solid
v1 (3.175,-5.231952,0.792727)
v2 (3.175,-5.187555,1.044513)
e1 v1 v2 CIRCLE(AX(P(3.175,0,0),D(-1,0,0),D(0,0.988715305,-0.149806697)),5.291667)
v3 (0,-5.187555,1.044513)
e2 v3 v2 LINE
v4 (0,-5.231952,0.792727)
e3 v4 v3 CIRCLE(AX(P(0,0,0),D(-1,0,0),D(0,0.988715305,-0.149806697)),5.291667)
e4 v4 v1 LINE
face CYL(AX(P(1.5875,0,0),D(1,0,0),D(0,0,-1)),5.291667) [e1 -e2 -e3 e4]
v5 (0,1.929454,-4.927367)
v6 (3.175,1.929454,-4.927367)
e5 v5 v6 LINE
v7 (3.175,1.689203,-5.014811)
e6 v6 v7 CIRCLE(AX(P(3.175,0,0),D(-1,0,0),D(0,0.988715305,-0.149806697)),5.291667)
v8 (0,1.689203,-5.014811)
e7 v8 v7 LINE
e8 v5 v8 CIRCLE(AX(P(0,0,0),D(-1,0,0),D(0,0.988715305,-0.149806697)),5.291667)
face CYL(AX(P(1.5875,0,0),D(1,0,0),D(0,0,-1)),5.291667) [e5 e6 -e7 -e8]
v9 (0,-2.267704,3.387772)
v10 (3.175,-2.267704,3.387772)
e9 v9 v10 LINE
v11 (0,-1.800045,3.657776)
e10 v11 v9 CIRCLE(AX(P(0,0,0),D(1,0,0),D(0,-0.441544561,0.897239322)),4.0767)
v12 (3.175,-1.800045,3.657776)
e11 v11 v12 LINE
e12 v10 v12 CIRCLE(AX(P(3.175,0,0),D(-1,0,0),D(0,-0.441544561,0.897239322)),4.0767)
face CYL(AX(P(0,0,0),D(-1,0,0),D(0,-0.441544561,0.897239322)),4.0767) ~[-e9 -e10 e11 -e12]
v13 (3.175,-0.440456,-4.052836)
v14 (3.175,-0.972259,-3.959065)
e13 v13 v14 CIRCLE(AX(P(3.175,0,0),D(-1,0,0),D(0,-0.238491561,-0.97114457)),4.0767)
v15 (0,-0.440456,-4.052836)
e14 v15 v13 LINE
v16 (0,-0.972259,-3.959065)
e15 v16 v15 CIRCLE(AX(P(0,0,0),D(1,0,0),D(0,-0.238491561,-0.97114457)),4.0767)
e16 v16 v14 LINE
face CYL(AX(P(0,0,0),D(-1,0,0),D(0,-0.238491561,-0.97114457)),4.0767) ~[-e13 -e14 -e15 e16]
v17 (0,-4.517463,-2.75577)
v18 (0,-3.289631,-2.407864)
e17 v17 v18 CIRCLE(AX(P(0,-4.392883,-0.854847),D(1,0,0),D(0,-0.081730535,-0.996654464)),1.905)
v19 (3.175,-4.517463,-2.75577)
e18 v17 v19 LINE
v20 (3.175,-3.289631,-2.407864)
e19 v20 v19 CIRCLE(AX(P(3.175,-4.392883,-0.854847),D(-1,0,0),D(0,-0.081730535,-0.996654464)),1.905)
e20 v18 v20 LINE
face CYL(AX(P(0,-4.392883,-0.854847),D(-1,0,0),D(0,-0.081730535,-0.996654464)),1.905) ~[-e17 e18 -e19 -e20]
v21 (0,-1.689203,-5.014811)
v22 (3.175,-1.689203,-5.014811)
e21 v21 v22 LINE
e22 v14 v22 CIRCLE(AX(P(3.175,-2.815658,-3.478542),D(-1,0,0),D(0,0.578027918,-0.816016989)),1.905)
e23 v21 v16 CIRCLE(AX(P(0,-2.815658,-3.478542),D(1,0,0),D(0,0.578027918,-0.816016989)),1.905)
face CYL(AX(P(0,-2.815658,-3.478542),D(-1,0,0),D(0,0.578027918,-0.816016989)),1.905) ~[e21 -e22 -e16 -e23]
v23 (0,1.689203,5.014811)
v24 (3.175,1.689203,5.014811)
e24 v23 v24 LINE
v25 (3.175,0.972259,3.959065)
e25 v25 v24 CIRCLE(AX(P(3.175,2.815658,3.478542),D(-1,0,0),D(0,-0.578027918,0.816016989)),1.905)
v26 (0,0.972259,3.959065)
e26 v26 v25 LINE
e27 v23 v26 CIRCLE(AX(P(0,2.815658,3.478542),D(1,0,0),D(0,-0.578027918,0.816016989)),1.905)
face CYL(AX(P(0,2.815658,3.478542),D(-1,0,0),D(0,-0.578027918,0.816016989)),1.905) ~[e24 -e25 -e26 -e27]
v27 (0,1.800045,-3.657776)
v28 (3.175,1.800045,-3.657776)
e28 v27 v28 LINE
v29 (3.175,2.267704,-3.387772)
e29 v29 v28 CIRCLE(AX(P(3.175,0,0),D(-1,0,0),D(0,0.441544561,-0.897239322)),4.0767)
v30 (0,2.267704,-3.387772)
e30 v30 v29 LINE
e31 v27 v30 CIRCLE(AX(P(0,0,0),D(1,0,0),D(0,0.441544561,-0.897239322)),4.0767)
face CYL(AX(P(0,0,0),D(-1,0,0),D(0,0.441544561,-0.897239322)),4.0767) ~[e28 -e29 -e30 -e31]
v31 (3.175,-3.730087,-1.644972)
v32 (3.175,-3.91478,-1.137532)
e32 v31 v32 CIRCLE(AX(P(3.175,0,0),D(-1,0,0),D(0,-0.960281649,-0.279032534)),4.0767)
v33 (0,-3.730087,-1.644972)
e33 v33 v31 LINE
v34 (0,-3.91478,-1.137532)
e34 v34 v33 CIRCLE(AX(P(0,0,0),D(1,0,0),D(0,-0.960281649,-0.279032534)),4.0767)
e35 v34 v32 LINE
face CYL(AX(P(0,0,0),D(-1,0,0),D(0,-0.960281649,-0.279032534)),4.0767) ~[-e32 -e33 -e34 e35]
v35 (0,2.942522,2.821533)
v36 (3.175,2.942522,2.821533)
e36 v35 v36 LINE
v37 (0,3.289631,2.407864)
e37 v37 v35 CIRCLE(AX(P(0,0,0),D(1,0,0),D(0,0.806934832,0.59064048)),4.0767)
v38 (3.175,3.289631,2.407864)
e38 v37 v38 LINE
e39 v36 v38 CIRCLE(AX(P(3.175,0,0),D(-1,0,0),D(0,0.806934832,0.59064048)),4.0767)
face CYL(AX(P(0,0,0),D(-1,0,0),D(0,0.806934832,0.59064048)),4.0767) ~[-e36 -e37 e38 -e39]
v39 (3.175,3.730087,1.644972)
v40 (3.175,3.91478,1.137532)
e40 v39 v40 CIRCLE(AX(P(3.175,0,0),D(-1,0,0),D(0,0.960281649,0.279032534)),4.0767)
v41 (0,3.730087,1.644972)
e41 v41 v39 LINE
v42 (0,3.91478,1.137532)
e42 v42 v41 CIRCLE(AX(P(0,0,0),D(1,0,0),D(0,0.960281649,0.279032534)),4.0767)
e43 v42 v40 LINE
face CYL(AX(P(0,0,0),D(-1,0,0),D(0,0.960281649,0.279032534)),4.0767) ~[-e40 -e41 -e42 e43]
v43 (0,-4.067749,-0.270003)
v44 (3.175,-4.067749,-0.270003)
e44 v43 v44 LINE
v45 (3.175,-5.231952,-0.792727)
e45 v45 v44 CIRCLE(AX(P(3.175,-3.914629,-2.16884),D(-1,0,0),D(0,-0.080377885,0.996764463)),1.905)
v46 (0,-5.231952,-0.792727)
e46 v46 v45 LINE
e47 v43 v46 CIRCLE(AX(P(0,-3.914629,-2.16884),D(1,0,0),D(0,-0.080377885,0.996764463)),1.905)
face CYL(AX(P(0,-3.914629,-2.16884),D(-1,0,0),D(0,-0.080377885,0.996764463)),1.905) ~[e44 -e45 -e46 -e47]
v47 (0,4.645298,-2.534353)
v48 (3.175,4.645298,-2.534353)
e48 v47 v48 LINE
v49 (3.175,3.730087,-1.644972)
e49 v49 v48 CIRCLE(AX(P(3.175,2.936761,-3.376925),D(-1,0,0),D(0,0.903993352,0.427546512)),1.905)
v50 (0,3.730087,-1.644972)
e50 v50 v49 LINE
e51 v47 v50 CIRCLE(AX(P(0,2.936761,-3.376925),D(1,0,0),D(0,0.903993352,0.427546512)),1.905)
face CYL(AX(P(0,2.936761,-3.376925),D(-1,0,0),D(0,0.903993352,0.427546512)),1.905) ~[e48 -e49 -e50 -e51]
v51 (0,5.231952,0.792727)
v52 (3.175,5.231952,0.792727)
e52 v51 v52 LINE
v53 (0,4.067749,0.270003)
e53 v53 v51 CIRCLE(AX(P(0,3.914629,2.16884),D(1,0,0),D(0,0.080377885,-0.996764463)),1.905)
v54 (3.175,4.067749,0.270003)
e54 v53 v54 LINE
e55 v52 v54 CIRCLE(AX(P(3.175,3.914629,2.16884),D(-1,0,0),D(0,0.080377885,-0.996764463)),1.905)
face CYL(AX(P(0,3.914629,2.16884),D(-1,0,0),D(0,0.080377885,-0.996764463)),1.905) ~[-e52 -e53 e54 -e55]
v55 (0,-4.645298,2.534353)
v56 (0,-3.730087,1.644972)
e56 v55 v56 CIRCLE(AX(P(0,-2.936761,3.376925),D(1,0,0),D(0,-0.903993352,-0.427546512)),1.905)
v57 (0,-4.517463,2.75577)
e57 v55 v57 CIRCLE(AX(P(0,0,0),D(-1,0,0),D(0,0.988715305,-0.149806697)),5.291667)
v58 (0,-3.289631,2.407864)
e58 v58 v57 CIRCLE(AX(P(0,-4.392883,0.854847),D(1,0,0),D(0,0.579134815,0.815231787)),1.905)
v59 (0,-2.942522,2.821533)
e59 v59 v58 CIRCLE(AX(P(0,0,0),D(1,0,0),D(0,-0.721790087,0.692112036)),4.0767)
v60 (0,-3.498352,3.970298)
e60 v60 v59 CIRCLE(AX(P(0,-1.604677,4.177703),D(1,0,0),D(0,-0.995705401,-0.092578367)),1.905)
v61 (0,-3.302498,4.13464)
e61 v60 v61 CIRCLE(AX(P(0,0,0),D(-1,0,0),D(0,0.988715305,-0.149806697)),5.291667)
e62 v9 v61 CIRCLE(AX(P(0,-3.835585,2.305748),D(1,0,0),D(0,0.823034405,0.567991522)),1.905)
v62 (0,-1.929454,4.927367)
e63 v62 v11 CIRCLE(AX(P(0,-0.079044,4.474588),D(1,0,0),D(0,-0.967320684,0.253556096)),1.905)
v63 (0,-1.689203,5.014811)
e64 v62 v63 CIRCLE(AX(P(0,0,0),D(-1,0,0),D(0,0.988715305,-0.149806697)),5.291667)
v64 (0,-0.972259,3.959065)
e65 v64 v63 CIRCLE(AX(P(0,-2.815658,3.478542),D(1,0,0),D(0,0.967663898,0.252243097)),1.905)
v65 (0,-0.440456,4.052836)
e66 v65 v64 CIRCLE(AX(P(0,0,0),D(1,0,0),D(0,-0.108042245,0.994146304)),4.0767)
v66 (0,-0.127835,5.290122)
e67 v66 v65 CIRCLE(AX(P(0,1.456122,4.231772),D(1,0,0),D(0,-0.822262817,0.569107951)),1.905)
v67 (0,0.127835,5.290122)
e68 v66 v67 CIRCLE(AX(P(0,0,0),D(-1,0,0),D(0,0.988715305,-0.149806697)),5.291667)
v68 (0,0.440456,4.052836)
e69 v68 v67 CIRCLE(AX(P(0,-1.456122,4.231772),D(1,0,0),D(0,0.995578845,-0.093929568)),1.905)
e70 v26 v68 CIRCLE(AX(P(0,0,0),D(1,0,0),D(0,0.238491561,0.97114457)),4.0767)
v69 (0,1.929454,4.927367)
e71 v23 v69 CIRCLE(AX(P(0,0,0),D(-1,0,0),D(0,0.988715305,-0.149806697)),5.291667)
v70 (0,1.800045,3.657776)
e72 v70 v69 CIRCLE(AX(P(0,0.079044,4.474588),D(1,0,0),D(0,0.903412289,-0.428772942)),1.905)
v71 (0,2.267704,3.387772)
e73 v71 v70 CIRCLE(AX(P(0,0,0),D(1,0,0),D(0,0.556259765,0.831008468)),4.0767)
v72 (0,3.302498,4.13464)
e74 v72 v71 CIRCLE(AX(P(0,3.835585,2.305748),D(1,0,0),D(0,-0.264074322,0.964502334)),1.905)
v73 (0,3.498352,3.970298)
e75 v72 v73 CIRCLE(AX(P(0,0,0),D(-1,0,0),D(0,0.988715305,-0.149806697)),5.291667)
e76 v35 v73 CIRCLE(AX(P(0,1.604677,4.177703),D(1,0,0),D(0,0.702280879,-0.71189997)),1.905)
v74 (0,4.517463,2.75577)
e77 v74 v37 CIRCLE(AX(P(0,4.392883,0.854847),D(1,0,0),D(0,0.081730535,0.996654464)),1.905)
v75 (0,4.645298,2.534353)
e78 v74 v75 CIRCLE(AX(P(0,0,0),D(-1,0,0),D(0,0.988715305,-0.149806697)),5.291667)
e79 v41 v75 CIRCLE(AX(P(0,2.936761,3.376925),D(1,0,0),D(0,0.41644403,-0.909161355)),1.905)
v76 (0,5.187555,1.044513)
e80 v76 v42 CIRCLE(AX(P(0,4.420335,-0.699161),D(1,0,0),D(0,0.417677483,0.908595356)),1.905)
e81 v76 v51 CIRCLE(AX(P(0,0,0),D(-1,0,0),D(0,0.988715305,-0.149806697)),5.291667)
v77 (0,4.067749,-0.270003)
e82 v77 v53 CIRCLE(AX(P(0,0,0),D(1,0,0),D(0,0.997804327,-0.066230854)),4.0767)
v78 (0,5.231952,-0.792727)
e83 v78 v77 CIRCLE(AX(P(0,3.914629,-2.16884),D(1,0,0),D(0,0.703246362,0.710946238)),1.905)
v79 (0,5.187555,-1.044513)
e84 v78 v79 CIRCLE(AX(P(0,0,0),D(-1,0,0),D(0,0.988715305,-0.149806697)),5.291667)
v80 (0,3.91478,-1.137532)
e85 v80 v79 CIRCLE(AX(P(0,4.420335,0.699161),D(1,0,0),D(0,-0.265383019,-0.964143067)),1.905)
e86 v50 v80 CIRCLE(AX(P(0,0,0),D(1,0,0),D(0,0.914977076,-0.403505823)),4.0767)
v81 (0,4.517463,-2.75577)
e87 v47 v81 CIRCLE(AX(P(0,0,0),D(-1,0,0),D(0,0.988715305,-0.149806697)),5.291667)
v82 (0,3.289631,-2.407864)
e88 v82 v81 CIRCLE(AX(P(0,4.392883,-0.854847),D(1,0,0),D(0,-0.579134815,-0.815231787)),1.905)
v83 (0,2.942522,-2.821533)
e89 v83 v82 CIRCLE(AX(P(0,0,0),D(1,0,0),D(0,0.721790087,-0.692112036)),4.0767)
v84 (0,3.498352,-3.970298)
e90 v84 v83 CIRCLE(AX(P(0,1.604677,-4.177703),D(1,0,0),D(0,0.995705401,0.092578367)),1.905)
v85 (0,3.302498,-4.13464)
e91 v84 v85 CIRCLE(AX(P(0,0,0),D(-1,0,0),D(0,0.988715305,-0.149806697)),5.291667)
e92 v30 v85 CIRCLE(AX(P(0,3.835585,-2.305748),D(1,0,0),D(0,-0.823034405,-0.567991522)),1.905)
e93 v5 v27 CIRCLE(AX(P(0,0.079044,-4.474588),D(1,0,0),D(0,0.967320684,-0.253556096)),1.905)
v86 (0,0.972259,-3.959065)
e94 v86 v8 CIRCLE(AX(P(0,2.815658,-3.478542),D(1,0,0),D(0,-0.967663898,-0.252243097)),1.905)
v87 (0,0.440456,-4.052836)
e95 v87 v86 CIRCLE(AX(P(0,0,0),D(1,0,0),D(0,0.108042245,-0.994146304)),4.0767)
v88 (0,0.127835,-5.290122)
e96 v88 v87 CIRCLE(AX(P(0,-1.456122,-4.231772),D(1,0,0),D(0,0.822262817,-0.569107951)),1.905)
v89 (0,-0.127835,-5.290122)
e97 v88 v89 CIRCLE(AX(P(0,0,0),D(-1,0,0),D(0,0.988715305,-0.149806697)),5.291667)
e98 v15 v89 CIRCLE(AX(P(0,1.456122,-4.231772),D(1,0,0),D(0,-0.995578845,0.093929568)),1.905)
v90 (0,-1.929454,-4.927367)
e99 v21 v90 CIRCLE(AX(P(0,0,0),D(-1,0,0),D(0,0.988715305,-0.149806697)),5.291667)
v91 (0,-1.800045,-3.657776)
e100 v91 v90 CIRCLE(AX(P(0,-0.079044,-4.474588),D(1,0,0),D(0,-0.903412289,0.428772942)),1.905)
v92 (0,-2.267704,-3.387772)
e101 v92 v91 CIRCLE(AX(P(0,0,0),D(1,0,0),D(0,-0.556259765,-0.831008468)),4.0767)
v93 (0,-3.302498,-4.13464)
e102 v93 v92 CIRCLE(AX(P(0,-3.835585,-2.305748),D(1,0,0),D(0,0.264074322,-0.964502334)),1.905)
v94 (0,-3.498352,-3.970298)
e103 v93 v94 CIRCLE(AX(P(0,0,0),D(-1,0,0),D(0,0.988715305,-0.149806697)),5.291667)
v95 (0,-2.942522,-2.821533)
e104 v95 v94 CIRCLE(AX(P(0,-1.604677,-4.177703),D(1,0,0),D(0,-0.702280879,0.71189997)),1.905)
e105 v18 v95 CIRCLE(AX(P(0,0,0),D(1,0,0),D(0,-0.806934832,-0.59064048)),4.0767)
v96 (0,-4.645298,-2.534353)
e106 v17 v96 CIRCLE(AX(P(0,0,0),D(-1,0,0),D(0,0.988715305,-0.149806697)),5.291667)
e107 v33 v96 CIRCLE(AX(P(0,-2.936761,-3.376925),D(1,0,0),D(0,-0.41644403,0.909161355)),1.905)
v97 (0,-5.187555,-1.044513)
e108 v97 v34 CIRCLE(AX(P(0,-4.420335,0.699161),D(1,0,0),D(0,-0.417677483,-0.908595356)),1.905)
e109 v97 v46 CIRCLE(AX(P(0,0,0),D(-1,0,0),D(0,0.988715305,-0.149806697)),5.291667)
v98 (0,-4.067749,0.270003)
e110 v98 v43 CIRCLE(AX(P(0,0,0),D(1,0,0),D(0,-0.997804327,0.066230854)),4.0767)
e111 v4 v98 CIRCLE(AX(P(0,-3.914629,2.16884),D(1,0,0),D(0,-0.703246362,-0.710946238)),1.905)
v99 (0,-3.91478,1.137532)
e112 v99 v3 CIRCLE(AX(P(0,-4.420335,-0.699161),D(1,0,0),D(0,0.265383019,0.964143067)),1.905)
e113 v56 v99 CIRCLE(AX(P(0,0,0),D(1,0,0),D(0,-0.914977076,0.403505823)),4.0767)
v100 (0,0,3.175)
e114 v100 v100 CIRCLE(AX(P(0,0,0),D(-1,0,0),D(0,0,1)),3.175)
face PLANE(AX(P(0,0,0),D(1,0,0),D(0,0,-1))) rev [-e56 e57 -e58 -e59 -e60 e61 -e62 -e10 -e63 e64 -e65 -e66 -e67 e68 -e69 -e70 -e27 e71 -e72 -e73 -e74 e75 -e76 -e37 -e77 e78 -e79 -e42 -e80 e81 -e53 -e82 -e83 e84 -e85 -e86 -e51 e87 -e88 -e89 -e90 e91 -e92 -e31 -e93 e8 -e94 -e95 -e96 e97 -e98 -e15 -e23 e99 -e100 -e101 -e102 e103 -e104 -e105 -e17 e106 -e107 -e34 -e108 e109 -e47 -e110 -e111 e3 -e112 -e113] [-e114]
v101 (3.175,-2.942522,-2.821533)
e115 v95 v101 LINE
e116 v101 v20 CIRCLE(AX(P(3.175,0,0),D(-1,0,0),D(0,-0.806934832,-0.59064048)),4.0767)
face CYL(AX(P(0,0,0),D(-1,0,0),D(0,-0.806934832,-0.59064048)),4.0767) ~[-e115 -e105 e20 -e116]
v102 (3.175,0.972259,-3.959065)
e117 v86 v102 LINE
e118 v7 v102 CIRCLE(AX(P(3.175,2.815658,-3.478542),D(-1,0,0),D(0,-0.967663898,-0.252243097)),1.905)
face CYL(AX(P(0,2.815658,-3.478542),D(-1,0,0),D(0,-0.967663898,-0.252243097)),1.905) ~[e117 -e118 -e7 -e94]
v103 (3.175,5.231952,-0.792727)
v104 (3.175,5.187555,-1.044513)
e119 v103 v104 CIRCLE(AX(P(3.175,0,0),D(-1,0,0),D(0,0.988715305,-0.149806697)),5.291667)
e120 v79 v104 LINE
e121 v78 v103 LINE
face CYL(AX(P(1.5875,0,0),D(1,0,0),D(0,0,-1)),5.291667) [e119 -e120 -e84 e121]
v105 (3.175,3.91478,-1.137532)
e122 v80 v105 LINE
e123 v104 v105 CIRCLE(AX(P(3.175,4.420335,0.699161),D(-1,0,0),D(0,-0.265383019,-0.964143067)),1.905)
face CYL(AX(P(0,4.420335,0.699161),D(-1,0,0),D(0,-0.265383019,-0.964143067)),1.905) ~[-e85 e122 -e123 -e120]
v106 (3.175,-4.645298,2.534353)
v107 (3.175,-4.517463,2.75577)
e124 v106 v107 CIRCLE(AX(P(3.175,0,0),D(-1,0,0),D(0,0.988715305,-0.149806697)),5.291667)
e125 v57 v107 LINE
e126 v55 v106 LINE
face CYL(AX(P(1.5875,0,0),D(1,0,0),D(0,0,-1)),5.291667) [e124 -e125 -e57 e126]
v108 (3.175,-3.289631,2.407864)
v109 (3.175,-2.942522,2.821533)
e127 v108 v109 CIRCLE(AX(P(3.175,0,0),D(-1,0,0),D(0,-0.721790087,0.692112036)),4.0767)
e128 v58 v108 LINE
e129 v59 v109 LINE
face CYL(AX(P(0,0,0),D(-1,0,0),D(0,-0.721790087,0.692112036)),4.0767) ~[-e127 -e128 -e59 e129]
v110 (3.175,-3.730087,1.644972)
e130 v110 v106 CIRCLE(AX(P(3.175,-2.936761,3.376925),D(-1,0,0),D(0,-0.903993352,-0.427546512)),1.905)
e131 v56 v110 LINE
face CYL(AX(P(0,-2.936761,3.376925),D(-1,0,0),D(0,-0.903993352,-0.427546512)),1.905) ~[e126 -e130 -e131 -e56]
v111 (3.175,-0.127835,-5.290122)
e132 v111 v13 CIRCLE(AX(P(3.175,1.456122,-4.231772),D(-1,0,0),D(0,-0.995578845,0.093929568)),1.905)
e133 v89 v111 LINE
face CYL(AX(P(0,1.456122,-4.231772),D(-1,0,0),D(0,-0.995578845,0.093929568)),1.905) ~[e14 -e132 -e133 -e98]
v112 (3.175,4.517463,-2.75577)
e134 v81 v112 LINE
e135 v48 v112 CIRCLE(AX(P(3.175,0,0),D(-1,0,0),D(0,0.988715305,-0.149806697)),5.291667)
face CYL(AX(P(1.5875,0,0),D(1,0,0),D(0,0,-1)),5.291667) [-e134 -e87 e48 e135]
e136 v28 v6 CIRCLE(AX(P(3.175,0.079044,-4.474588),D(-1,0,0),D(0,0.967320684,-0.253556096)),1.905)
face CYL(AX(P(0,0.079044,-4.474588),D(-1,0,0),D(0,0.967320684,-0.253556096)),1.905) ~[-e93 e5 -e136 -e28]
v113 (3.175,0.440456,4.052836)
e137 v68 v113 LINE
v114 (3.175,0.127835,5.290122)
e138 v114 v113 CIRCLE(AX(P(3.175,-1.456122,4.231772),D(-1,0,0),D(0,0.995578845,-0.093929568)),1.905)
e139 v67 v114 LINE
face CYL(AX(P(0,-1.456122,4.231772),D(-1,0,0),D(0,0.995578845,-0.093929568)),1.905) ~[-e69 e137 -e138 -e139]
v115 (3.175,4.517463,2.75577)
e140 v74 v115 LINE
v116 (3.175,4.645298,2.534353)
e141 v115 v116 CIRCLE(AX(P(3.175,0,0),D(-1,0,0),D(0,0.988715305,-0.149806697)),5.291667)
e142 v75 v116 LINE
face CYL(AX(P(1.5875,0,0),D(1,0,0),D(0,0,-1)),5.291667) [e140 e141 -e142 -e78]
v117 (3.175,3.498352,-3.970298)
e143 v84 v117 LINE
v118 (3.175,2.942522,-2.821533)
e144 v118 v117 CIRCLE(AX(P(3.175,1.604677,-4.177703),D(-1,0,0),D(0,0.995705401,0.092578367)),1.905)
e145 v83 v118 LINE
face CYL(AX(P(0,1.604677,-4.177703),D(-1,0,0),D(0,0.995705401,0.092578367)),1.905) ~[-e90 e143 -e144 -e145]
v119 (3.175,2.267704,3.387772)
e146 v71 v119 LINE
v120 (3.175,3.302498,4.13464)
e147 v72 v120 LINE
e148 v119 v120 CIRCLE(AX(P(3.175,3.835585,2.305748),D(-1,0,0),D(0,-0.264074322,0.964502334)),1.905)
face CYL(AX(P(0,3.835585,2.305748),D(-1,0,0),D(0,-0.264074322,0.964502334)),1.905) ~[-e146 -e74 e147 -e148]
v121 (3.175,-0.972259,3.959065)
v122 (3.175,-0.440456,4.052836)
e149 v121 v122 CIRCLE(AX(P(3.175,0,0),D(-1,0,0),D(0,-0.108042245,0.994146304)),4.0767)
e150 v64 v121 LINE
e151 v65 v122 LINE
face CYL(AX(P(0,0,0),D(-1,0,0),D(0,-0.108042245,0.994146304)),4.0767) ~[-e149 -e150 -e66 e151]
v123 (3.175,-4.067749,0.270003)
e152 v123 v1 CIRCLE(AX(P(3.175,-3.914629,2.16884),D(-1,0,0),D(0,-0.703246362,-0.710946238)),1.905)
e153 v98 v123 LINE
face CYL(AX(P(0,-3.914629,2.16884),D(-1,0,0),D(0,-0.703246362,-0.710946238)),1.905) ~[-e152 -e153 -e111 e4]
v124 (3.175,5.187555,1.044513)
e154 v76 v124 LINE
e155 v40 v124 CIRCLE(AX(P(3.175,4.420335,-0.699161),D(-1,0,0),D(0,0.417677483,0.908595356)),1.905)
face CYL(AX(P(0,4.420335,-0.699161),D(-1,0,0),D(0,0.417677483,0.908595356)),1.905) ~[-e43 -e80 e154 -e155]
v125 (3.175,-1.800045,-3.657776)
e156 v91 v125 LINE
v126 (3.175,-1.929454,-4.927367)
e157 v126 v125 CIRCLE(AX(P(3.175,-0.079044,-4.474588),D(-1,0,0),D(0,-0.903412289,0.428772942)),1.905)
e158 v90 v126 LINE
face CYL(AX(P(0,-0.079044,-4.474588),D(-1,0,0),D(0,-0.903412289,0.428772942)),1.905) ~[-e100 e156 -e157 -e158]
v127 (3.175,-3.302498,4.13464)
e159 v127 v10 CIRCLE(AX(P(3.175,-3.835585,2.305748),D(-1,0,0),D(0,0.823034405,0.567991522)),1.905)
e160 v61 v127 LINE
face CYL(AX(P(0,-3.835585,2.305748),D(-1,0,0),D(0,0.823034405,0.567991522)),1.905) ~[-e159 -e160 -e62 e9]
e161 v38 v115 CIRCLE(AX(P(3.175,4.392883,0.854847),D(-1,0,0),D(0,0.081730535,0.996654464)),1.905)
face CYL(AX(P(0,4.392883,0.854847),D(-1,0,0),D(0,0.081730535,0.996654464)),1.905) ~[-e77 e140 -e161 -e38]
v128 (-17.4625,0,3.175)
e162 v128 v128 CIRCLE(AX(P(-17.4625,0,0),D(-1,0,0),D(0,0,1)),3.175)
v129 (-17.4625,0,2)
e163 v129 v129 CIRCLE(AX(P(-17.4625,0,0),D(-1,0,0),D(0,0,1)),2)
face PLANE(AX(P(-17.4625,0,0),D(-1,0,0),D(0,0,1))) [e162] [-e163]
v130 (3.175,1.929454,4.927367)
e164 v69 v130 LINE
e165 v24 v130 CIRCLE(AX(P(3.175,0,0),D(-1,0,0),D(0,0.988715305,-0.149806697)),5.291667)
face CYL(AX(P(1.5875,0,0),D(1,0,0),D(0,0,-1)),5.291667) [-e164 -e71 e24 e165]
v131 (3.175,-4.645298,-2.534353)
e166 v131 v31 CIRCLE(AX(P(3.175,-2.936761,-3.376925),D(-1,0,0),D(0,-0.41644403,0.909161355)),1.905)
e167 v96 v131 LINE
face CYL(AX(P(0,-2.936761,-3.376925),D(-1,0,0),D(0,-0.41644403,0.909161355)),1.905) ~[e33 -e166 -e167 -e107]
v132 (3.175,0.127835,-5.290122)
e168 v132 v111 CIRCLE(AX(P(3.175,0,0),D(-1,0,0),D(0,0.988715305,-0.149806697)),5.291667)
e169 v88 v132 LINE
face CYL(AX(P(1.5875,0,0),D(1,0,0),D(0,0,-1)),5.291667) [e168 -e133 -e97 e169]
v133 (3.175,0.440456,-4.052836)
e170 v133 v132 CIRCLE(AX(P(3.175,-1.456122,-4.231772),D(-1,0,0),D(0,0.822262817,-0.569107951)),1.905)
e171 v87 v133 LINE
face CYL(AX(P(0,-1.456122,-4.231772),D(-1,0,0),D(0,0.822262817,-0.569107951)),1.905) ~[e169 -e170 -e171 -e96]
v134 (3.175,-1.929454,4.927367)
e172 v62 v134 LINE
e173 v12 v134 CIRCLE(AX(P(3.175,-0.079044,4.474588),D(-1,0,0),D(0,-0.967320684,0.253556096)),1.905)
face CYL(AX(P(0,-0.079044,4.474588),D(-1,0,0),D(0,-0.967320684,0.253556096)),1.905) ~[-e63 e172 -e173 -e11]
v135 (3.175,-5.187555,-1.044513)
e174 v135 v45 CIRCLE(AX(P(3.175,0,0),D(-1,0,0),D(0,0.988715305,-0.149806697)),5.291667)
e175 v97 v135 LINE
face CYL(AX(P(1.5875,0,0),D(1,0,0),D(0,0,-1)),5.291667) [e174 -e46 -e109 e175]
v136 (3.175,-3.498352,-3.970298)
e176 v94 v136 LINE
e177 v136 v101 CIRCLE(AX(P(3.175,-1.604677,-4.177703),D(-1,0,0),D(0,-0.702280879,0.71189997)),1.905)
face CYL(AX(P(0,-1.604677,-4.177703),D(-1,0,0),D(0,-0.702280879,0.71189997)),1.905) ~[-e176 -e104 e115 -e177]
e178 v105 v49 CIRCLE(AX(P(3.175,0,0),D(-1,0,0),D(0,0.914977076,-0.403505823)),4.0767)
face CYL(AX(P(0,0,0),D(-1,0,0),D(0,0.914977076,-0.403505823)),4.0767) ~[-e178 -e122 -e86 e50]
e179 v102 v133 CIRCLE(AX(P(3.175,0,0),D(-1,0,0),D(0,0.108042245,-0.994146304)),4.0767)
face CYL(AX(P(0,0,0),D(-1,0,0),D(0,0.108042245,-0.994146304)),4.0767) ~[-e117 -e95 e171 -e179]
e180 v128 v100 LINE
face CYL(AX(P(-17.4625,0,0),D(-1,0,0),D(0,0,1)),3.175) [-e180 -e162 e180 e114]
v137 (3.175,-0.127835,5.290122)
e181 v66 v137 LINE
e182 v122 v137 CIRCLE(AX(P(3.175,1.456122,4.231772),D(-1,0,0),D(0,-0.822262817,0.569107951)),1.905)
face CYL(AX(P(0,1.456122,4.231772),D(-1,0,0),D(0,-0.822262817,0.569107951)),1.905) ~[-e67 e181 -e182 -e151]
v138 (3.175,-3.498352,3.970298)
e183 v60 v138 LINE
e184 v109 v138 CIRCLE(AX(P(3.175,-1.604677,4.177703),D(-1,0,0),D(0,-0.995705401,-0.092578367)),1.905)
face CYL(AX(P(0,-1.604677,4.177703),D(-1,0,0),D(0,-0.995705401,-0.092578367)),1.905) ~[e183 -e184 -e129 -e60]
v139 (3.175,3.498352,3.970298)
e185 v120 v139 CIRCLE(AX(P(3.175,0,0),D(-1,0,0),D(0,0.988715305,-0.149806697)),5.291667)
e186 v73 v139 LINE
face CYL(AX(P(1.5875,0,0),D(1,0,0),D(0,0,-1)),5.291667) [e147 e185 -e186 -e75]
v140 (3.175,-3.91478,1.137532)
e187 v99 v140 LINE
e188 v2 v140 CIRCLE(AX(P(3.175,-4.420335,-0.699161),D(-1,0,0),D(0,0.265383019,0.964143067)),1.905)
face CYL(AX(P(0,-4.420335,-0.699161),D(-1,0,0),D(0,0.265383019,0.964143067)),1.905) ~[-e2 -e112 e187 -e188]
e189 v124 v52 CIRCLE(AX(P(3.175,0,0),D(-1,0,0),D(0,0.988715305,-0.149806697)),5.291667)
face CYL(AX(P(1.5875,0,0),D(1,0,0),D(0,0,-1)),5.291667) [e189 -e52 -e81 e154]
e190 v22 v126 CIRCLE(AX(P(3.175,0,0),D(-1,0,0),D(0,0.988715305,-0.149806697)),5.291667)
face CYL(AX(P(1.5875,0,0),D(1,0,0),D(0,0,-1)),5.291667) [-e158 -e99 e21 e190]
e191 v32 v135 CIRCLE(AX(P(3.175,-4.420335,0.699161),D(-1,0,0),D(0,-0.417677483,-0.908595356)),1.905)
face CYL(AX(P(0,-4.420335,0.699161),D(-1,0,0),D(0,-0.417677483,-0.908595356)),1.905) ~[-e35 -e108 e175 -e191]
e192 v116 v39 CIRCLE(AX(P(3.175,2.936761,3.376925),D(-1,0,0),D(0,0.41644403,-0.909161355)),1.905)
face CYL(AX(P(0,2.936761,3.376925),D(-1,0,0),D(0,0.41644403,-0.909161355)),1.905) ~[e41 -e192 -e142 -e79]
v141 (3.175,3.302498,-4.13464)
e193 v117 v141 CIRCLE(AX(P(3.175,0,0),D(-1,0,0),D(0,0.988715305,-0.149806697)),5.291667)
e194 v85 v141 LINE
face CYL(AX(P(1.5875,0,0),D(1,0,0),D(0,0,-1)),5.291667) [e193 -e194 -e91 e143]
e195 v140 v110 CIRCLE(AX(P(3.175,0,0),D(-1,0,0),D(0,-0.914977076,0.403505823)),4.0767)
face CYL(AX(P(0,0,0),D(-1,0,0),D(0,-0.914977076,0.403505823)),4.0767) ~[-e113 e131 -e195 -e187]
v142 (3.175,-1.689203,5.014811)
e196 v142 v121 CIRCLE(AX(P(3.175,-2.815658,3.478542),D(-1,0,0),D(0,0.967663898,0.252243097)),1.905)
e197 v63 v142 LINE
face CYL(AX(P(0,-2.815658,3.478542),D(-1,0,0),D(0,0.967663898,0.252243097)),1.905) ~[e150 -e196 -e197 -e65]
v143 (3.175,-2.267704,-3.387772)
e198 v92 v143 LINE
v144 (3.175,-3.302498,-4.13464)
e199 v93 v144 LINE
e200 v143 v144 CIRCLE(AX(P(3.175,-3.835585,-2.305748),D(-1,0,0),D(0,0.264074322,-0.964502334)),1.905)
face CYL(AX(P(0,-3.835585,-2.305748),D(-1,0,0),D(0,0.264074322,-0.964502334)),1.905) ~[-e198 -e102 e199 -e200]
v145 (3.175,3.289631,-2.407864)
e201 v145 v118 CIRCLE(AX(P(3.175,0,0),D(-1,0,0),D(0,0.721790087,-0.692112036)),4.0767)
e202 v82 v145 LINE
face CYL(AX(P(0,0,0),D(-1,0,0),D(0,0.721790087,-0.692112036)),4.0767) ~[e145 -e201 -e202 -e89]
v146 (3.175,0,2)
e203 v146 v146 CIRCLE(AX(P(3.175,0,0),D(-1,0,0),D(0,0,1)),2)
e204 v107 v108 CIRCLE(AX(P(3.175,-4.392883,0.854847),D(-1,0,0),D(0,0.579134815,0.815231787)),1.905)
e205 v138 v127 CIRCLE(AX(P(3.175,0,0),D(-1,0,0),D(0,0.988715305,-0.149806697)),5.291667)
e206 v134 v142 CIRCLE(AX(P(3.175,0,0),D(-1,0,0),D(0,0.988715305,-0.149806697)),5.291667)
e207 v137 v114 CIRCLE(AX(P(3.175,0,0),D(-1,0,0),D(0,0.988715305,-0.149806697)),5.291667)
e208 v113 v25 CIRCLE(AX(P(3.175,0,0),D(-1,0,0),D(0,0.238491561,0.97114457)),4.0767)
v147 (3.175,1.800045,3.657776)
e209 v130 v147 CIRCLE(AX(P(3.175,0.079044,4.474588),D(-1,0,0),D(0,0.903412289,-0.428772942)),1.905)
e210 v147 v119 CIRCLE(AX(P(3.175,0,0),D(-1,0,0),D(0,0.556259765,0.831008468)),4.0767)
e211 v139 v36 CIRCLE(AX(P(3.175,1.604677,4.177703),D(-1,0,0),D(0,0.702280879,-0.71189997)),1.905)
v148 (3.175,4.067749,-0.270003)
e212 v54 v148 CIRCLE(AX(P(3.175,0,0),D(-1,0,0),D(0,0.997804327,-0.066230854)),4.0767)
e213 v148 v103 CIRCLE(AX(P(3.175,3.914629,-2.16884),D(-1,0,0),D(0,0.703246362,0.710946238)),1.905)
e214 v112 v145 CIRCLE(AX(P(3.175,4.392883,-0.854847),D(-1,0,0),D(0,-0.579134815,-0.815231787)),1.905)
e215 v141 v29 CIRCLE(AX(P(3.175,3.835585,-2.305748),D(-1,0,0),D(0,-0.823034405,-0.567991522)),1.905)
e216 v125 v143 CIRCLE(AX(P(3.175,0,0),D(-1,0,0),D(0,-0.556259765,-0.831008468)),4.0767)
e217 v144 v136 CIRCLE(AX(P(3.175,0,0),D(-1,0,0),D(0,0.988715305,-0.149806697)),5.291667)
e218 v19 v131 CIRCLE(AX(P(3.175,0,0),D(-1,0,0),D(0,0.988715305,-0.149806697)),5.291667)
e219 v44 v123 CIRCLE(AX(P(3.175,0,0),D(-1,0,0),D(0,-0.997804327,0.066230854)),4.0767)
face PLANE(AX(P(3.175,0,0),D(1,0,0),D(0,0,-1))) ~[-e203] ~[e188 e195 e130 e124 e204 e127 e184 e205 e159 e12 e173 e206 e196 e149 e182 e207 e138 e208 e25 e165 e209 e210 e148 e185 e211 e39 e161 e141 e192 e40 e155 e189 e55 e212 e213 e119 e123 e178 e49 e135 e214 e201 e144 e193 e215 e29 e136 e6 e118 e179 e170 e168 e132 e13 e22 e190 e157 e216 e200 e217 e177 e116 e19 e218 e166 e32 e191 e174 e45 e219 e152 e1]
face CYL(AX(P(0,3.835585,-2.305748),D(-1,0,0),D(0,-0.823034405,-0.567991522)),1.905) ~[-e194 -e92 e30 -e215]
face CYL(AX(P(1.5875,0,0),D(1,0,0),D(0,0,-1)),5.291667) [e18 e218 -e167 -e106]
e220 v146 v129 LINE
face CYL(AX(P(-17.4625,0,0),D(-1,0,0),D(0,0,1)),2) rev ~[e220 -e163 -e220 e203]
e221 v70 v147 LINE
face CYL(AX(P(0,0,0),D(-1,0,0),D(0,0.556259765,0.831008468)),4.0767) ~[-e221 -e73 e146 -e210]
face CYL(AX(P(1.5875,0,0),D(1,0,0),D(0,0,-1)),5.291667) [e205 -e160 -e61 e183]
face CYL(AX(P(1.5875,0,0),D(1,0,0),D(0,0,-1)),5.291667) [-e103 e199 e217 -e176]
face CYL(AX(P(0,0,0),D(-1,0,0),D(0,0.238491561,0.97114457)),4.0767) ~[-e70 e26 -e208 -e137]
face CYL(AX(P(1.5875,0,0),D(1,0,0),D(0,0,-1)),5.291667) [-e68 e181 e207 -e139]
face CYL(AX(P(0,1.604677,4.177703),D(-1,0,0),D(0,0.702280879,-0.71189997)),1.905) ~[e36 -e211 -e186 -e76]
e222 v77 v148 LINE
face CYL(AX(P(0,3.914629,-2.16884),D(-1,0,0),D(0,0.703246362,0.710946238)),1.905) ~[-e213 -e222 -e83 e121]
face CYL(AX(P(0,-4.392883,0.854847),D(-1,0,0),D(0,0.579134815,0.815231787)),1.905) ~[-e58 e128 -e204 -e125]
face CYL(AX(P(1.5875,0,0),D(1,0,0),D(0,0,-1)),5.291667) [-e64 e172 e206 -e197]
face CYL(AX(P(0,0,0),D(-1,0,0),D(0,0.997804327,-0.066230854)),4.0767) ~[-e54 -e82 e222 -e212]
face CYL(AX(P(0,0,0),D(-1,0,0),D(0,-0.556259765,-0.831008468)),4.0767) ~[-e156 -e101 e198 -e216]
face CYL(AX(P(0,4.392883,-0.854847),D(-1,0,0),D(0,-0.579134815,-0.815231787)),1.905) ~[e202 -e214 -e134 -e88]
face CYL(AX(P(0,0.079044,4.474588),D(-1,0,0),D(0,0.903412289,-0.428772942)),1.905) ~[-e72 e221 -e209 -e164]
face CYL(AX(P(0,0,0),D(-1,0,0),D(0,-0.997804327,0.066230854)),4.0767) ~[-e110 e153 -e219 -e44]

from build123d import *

# Parameters (mm, degrees)
BASPROSKE_W         = 3.175
BASPROSKE_H         = 5.291666667
TOOTHCUT_DEPTH      = 9.129212583
TEETHCUTS_COUNT     = 18
TEETHCUTS_ANGLE     = 340
SKETCH2_R           = 2
CUT_EXTRUDE3_DEPTH  = 9.090468526
BOSS_EXTRUDE1_START = 17.4625
SKETCH2_3_R         = 3.175
SKETCH2_3_R_2       = 2
BOSS_EXTRUDE1_DEPTH = 17.4625


with BuildPart() as part:
    # BasProSke → Base-Revolve (revolve)
    with BuildSketch(Plane(origin=(0, 0, 0), x_dir=(1, 0, 0), z_dir=(0, 1, 0))):
        with Locations((1.5875, 2.645833334)):
            Rectangle(BASPROSKE_W, BASPROSKE_H)
    revolve(axis=Axis((-10, 0, 0), (1, 0, 0)))

    # TooCutSke → ToothCut (cut, through all)
    with BuildSketch(Plane(origin=(0, 0, 0), x_dir=(0, 0, -1), z_dir=(1, 0, 0))):
        with BuildLine():
            ThreePointArc((0.270003318, 4.067748898), (0, 4.0767), (-0.270003318, 4.067748898))
            ThreePointArc((-0.270003318, 4.067748898), (-0.437425956, 4.709129954), (-0.814487039, 5.254313352))
            ThreePointArc((-0.814487039, 5.254313352), (0, 5.317066667), (0.814487039, 5.254313352))
            ThreePointArc((0.814487039, 5.254313352), (0.437425956, 4.709129954), (0.270003318, 4.067748898))
        make_face()
    toothcut = extrude(amount=TOOTHCUT_DEPTH, mode=Mode.SUBTRACT)

    # TeethCuts: ToothCut ×18 about axis
    teethcuts_axis = Axis((-10, 0, 0), (1, 0, 0))
    for i in range(1, TEETHCUTS_COUNT):
        add(toothcut.rotate(teethcuts_axis, i * TEETHCUTS_ANGLE / (TEETHCUTS_COUNT - 1)), mode=Mode.SUBTRACT)

    # Sketch2 → Cut-Extrude3 (cut, through all)
    with BuildSketch(Plane.ZY):
        Circle(SKETCH2_R)
    extrude(amount=-CUT_EXTRUDE3_DEPTH, mode=Mode.SUBTRACT)

    # Sketch2<3> → Boss-Extrude1 (add)
    with BuildSketch(Plane.ZY.offset(BOSS_EXTRUDE1_START)):
        Circle(SKETCH2_3_R)
        Circle(SKETCH2_3_R_2, mode=Mode.SUBTRACT)
    extrude(amount=-BOSS_EXTRUDE1_DEPTH)


solid = part.part
